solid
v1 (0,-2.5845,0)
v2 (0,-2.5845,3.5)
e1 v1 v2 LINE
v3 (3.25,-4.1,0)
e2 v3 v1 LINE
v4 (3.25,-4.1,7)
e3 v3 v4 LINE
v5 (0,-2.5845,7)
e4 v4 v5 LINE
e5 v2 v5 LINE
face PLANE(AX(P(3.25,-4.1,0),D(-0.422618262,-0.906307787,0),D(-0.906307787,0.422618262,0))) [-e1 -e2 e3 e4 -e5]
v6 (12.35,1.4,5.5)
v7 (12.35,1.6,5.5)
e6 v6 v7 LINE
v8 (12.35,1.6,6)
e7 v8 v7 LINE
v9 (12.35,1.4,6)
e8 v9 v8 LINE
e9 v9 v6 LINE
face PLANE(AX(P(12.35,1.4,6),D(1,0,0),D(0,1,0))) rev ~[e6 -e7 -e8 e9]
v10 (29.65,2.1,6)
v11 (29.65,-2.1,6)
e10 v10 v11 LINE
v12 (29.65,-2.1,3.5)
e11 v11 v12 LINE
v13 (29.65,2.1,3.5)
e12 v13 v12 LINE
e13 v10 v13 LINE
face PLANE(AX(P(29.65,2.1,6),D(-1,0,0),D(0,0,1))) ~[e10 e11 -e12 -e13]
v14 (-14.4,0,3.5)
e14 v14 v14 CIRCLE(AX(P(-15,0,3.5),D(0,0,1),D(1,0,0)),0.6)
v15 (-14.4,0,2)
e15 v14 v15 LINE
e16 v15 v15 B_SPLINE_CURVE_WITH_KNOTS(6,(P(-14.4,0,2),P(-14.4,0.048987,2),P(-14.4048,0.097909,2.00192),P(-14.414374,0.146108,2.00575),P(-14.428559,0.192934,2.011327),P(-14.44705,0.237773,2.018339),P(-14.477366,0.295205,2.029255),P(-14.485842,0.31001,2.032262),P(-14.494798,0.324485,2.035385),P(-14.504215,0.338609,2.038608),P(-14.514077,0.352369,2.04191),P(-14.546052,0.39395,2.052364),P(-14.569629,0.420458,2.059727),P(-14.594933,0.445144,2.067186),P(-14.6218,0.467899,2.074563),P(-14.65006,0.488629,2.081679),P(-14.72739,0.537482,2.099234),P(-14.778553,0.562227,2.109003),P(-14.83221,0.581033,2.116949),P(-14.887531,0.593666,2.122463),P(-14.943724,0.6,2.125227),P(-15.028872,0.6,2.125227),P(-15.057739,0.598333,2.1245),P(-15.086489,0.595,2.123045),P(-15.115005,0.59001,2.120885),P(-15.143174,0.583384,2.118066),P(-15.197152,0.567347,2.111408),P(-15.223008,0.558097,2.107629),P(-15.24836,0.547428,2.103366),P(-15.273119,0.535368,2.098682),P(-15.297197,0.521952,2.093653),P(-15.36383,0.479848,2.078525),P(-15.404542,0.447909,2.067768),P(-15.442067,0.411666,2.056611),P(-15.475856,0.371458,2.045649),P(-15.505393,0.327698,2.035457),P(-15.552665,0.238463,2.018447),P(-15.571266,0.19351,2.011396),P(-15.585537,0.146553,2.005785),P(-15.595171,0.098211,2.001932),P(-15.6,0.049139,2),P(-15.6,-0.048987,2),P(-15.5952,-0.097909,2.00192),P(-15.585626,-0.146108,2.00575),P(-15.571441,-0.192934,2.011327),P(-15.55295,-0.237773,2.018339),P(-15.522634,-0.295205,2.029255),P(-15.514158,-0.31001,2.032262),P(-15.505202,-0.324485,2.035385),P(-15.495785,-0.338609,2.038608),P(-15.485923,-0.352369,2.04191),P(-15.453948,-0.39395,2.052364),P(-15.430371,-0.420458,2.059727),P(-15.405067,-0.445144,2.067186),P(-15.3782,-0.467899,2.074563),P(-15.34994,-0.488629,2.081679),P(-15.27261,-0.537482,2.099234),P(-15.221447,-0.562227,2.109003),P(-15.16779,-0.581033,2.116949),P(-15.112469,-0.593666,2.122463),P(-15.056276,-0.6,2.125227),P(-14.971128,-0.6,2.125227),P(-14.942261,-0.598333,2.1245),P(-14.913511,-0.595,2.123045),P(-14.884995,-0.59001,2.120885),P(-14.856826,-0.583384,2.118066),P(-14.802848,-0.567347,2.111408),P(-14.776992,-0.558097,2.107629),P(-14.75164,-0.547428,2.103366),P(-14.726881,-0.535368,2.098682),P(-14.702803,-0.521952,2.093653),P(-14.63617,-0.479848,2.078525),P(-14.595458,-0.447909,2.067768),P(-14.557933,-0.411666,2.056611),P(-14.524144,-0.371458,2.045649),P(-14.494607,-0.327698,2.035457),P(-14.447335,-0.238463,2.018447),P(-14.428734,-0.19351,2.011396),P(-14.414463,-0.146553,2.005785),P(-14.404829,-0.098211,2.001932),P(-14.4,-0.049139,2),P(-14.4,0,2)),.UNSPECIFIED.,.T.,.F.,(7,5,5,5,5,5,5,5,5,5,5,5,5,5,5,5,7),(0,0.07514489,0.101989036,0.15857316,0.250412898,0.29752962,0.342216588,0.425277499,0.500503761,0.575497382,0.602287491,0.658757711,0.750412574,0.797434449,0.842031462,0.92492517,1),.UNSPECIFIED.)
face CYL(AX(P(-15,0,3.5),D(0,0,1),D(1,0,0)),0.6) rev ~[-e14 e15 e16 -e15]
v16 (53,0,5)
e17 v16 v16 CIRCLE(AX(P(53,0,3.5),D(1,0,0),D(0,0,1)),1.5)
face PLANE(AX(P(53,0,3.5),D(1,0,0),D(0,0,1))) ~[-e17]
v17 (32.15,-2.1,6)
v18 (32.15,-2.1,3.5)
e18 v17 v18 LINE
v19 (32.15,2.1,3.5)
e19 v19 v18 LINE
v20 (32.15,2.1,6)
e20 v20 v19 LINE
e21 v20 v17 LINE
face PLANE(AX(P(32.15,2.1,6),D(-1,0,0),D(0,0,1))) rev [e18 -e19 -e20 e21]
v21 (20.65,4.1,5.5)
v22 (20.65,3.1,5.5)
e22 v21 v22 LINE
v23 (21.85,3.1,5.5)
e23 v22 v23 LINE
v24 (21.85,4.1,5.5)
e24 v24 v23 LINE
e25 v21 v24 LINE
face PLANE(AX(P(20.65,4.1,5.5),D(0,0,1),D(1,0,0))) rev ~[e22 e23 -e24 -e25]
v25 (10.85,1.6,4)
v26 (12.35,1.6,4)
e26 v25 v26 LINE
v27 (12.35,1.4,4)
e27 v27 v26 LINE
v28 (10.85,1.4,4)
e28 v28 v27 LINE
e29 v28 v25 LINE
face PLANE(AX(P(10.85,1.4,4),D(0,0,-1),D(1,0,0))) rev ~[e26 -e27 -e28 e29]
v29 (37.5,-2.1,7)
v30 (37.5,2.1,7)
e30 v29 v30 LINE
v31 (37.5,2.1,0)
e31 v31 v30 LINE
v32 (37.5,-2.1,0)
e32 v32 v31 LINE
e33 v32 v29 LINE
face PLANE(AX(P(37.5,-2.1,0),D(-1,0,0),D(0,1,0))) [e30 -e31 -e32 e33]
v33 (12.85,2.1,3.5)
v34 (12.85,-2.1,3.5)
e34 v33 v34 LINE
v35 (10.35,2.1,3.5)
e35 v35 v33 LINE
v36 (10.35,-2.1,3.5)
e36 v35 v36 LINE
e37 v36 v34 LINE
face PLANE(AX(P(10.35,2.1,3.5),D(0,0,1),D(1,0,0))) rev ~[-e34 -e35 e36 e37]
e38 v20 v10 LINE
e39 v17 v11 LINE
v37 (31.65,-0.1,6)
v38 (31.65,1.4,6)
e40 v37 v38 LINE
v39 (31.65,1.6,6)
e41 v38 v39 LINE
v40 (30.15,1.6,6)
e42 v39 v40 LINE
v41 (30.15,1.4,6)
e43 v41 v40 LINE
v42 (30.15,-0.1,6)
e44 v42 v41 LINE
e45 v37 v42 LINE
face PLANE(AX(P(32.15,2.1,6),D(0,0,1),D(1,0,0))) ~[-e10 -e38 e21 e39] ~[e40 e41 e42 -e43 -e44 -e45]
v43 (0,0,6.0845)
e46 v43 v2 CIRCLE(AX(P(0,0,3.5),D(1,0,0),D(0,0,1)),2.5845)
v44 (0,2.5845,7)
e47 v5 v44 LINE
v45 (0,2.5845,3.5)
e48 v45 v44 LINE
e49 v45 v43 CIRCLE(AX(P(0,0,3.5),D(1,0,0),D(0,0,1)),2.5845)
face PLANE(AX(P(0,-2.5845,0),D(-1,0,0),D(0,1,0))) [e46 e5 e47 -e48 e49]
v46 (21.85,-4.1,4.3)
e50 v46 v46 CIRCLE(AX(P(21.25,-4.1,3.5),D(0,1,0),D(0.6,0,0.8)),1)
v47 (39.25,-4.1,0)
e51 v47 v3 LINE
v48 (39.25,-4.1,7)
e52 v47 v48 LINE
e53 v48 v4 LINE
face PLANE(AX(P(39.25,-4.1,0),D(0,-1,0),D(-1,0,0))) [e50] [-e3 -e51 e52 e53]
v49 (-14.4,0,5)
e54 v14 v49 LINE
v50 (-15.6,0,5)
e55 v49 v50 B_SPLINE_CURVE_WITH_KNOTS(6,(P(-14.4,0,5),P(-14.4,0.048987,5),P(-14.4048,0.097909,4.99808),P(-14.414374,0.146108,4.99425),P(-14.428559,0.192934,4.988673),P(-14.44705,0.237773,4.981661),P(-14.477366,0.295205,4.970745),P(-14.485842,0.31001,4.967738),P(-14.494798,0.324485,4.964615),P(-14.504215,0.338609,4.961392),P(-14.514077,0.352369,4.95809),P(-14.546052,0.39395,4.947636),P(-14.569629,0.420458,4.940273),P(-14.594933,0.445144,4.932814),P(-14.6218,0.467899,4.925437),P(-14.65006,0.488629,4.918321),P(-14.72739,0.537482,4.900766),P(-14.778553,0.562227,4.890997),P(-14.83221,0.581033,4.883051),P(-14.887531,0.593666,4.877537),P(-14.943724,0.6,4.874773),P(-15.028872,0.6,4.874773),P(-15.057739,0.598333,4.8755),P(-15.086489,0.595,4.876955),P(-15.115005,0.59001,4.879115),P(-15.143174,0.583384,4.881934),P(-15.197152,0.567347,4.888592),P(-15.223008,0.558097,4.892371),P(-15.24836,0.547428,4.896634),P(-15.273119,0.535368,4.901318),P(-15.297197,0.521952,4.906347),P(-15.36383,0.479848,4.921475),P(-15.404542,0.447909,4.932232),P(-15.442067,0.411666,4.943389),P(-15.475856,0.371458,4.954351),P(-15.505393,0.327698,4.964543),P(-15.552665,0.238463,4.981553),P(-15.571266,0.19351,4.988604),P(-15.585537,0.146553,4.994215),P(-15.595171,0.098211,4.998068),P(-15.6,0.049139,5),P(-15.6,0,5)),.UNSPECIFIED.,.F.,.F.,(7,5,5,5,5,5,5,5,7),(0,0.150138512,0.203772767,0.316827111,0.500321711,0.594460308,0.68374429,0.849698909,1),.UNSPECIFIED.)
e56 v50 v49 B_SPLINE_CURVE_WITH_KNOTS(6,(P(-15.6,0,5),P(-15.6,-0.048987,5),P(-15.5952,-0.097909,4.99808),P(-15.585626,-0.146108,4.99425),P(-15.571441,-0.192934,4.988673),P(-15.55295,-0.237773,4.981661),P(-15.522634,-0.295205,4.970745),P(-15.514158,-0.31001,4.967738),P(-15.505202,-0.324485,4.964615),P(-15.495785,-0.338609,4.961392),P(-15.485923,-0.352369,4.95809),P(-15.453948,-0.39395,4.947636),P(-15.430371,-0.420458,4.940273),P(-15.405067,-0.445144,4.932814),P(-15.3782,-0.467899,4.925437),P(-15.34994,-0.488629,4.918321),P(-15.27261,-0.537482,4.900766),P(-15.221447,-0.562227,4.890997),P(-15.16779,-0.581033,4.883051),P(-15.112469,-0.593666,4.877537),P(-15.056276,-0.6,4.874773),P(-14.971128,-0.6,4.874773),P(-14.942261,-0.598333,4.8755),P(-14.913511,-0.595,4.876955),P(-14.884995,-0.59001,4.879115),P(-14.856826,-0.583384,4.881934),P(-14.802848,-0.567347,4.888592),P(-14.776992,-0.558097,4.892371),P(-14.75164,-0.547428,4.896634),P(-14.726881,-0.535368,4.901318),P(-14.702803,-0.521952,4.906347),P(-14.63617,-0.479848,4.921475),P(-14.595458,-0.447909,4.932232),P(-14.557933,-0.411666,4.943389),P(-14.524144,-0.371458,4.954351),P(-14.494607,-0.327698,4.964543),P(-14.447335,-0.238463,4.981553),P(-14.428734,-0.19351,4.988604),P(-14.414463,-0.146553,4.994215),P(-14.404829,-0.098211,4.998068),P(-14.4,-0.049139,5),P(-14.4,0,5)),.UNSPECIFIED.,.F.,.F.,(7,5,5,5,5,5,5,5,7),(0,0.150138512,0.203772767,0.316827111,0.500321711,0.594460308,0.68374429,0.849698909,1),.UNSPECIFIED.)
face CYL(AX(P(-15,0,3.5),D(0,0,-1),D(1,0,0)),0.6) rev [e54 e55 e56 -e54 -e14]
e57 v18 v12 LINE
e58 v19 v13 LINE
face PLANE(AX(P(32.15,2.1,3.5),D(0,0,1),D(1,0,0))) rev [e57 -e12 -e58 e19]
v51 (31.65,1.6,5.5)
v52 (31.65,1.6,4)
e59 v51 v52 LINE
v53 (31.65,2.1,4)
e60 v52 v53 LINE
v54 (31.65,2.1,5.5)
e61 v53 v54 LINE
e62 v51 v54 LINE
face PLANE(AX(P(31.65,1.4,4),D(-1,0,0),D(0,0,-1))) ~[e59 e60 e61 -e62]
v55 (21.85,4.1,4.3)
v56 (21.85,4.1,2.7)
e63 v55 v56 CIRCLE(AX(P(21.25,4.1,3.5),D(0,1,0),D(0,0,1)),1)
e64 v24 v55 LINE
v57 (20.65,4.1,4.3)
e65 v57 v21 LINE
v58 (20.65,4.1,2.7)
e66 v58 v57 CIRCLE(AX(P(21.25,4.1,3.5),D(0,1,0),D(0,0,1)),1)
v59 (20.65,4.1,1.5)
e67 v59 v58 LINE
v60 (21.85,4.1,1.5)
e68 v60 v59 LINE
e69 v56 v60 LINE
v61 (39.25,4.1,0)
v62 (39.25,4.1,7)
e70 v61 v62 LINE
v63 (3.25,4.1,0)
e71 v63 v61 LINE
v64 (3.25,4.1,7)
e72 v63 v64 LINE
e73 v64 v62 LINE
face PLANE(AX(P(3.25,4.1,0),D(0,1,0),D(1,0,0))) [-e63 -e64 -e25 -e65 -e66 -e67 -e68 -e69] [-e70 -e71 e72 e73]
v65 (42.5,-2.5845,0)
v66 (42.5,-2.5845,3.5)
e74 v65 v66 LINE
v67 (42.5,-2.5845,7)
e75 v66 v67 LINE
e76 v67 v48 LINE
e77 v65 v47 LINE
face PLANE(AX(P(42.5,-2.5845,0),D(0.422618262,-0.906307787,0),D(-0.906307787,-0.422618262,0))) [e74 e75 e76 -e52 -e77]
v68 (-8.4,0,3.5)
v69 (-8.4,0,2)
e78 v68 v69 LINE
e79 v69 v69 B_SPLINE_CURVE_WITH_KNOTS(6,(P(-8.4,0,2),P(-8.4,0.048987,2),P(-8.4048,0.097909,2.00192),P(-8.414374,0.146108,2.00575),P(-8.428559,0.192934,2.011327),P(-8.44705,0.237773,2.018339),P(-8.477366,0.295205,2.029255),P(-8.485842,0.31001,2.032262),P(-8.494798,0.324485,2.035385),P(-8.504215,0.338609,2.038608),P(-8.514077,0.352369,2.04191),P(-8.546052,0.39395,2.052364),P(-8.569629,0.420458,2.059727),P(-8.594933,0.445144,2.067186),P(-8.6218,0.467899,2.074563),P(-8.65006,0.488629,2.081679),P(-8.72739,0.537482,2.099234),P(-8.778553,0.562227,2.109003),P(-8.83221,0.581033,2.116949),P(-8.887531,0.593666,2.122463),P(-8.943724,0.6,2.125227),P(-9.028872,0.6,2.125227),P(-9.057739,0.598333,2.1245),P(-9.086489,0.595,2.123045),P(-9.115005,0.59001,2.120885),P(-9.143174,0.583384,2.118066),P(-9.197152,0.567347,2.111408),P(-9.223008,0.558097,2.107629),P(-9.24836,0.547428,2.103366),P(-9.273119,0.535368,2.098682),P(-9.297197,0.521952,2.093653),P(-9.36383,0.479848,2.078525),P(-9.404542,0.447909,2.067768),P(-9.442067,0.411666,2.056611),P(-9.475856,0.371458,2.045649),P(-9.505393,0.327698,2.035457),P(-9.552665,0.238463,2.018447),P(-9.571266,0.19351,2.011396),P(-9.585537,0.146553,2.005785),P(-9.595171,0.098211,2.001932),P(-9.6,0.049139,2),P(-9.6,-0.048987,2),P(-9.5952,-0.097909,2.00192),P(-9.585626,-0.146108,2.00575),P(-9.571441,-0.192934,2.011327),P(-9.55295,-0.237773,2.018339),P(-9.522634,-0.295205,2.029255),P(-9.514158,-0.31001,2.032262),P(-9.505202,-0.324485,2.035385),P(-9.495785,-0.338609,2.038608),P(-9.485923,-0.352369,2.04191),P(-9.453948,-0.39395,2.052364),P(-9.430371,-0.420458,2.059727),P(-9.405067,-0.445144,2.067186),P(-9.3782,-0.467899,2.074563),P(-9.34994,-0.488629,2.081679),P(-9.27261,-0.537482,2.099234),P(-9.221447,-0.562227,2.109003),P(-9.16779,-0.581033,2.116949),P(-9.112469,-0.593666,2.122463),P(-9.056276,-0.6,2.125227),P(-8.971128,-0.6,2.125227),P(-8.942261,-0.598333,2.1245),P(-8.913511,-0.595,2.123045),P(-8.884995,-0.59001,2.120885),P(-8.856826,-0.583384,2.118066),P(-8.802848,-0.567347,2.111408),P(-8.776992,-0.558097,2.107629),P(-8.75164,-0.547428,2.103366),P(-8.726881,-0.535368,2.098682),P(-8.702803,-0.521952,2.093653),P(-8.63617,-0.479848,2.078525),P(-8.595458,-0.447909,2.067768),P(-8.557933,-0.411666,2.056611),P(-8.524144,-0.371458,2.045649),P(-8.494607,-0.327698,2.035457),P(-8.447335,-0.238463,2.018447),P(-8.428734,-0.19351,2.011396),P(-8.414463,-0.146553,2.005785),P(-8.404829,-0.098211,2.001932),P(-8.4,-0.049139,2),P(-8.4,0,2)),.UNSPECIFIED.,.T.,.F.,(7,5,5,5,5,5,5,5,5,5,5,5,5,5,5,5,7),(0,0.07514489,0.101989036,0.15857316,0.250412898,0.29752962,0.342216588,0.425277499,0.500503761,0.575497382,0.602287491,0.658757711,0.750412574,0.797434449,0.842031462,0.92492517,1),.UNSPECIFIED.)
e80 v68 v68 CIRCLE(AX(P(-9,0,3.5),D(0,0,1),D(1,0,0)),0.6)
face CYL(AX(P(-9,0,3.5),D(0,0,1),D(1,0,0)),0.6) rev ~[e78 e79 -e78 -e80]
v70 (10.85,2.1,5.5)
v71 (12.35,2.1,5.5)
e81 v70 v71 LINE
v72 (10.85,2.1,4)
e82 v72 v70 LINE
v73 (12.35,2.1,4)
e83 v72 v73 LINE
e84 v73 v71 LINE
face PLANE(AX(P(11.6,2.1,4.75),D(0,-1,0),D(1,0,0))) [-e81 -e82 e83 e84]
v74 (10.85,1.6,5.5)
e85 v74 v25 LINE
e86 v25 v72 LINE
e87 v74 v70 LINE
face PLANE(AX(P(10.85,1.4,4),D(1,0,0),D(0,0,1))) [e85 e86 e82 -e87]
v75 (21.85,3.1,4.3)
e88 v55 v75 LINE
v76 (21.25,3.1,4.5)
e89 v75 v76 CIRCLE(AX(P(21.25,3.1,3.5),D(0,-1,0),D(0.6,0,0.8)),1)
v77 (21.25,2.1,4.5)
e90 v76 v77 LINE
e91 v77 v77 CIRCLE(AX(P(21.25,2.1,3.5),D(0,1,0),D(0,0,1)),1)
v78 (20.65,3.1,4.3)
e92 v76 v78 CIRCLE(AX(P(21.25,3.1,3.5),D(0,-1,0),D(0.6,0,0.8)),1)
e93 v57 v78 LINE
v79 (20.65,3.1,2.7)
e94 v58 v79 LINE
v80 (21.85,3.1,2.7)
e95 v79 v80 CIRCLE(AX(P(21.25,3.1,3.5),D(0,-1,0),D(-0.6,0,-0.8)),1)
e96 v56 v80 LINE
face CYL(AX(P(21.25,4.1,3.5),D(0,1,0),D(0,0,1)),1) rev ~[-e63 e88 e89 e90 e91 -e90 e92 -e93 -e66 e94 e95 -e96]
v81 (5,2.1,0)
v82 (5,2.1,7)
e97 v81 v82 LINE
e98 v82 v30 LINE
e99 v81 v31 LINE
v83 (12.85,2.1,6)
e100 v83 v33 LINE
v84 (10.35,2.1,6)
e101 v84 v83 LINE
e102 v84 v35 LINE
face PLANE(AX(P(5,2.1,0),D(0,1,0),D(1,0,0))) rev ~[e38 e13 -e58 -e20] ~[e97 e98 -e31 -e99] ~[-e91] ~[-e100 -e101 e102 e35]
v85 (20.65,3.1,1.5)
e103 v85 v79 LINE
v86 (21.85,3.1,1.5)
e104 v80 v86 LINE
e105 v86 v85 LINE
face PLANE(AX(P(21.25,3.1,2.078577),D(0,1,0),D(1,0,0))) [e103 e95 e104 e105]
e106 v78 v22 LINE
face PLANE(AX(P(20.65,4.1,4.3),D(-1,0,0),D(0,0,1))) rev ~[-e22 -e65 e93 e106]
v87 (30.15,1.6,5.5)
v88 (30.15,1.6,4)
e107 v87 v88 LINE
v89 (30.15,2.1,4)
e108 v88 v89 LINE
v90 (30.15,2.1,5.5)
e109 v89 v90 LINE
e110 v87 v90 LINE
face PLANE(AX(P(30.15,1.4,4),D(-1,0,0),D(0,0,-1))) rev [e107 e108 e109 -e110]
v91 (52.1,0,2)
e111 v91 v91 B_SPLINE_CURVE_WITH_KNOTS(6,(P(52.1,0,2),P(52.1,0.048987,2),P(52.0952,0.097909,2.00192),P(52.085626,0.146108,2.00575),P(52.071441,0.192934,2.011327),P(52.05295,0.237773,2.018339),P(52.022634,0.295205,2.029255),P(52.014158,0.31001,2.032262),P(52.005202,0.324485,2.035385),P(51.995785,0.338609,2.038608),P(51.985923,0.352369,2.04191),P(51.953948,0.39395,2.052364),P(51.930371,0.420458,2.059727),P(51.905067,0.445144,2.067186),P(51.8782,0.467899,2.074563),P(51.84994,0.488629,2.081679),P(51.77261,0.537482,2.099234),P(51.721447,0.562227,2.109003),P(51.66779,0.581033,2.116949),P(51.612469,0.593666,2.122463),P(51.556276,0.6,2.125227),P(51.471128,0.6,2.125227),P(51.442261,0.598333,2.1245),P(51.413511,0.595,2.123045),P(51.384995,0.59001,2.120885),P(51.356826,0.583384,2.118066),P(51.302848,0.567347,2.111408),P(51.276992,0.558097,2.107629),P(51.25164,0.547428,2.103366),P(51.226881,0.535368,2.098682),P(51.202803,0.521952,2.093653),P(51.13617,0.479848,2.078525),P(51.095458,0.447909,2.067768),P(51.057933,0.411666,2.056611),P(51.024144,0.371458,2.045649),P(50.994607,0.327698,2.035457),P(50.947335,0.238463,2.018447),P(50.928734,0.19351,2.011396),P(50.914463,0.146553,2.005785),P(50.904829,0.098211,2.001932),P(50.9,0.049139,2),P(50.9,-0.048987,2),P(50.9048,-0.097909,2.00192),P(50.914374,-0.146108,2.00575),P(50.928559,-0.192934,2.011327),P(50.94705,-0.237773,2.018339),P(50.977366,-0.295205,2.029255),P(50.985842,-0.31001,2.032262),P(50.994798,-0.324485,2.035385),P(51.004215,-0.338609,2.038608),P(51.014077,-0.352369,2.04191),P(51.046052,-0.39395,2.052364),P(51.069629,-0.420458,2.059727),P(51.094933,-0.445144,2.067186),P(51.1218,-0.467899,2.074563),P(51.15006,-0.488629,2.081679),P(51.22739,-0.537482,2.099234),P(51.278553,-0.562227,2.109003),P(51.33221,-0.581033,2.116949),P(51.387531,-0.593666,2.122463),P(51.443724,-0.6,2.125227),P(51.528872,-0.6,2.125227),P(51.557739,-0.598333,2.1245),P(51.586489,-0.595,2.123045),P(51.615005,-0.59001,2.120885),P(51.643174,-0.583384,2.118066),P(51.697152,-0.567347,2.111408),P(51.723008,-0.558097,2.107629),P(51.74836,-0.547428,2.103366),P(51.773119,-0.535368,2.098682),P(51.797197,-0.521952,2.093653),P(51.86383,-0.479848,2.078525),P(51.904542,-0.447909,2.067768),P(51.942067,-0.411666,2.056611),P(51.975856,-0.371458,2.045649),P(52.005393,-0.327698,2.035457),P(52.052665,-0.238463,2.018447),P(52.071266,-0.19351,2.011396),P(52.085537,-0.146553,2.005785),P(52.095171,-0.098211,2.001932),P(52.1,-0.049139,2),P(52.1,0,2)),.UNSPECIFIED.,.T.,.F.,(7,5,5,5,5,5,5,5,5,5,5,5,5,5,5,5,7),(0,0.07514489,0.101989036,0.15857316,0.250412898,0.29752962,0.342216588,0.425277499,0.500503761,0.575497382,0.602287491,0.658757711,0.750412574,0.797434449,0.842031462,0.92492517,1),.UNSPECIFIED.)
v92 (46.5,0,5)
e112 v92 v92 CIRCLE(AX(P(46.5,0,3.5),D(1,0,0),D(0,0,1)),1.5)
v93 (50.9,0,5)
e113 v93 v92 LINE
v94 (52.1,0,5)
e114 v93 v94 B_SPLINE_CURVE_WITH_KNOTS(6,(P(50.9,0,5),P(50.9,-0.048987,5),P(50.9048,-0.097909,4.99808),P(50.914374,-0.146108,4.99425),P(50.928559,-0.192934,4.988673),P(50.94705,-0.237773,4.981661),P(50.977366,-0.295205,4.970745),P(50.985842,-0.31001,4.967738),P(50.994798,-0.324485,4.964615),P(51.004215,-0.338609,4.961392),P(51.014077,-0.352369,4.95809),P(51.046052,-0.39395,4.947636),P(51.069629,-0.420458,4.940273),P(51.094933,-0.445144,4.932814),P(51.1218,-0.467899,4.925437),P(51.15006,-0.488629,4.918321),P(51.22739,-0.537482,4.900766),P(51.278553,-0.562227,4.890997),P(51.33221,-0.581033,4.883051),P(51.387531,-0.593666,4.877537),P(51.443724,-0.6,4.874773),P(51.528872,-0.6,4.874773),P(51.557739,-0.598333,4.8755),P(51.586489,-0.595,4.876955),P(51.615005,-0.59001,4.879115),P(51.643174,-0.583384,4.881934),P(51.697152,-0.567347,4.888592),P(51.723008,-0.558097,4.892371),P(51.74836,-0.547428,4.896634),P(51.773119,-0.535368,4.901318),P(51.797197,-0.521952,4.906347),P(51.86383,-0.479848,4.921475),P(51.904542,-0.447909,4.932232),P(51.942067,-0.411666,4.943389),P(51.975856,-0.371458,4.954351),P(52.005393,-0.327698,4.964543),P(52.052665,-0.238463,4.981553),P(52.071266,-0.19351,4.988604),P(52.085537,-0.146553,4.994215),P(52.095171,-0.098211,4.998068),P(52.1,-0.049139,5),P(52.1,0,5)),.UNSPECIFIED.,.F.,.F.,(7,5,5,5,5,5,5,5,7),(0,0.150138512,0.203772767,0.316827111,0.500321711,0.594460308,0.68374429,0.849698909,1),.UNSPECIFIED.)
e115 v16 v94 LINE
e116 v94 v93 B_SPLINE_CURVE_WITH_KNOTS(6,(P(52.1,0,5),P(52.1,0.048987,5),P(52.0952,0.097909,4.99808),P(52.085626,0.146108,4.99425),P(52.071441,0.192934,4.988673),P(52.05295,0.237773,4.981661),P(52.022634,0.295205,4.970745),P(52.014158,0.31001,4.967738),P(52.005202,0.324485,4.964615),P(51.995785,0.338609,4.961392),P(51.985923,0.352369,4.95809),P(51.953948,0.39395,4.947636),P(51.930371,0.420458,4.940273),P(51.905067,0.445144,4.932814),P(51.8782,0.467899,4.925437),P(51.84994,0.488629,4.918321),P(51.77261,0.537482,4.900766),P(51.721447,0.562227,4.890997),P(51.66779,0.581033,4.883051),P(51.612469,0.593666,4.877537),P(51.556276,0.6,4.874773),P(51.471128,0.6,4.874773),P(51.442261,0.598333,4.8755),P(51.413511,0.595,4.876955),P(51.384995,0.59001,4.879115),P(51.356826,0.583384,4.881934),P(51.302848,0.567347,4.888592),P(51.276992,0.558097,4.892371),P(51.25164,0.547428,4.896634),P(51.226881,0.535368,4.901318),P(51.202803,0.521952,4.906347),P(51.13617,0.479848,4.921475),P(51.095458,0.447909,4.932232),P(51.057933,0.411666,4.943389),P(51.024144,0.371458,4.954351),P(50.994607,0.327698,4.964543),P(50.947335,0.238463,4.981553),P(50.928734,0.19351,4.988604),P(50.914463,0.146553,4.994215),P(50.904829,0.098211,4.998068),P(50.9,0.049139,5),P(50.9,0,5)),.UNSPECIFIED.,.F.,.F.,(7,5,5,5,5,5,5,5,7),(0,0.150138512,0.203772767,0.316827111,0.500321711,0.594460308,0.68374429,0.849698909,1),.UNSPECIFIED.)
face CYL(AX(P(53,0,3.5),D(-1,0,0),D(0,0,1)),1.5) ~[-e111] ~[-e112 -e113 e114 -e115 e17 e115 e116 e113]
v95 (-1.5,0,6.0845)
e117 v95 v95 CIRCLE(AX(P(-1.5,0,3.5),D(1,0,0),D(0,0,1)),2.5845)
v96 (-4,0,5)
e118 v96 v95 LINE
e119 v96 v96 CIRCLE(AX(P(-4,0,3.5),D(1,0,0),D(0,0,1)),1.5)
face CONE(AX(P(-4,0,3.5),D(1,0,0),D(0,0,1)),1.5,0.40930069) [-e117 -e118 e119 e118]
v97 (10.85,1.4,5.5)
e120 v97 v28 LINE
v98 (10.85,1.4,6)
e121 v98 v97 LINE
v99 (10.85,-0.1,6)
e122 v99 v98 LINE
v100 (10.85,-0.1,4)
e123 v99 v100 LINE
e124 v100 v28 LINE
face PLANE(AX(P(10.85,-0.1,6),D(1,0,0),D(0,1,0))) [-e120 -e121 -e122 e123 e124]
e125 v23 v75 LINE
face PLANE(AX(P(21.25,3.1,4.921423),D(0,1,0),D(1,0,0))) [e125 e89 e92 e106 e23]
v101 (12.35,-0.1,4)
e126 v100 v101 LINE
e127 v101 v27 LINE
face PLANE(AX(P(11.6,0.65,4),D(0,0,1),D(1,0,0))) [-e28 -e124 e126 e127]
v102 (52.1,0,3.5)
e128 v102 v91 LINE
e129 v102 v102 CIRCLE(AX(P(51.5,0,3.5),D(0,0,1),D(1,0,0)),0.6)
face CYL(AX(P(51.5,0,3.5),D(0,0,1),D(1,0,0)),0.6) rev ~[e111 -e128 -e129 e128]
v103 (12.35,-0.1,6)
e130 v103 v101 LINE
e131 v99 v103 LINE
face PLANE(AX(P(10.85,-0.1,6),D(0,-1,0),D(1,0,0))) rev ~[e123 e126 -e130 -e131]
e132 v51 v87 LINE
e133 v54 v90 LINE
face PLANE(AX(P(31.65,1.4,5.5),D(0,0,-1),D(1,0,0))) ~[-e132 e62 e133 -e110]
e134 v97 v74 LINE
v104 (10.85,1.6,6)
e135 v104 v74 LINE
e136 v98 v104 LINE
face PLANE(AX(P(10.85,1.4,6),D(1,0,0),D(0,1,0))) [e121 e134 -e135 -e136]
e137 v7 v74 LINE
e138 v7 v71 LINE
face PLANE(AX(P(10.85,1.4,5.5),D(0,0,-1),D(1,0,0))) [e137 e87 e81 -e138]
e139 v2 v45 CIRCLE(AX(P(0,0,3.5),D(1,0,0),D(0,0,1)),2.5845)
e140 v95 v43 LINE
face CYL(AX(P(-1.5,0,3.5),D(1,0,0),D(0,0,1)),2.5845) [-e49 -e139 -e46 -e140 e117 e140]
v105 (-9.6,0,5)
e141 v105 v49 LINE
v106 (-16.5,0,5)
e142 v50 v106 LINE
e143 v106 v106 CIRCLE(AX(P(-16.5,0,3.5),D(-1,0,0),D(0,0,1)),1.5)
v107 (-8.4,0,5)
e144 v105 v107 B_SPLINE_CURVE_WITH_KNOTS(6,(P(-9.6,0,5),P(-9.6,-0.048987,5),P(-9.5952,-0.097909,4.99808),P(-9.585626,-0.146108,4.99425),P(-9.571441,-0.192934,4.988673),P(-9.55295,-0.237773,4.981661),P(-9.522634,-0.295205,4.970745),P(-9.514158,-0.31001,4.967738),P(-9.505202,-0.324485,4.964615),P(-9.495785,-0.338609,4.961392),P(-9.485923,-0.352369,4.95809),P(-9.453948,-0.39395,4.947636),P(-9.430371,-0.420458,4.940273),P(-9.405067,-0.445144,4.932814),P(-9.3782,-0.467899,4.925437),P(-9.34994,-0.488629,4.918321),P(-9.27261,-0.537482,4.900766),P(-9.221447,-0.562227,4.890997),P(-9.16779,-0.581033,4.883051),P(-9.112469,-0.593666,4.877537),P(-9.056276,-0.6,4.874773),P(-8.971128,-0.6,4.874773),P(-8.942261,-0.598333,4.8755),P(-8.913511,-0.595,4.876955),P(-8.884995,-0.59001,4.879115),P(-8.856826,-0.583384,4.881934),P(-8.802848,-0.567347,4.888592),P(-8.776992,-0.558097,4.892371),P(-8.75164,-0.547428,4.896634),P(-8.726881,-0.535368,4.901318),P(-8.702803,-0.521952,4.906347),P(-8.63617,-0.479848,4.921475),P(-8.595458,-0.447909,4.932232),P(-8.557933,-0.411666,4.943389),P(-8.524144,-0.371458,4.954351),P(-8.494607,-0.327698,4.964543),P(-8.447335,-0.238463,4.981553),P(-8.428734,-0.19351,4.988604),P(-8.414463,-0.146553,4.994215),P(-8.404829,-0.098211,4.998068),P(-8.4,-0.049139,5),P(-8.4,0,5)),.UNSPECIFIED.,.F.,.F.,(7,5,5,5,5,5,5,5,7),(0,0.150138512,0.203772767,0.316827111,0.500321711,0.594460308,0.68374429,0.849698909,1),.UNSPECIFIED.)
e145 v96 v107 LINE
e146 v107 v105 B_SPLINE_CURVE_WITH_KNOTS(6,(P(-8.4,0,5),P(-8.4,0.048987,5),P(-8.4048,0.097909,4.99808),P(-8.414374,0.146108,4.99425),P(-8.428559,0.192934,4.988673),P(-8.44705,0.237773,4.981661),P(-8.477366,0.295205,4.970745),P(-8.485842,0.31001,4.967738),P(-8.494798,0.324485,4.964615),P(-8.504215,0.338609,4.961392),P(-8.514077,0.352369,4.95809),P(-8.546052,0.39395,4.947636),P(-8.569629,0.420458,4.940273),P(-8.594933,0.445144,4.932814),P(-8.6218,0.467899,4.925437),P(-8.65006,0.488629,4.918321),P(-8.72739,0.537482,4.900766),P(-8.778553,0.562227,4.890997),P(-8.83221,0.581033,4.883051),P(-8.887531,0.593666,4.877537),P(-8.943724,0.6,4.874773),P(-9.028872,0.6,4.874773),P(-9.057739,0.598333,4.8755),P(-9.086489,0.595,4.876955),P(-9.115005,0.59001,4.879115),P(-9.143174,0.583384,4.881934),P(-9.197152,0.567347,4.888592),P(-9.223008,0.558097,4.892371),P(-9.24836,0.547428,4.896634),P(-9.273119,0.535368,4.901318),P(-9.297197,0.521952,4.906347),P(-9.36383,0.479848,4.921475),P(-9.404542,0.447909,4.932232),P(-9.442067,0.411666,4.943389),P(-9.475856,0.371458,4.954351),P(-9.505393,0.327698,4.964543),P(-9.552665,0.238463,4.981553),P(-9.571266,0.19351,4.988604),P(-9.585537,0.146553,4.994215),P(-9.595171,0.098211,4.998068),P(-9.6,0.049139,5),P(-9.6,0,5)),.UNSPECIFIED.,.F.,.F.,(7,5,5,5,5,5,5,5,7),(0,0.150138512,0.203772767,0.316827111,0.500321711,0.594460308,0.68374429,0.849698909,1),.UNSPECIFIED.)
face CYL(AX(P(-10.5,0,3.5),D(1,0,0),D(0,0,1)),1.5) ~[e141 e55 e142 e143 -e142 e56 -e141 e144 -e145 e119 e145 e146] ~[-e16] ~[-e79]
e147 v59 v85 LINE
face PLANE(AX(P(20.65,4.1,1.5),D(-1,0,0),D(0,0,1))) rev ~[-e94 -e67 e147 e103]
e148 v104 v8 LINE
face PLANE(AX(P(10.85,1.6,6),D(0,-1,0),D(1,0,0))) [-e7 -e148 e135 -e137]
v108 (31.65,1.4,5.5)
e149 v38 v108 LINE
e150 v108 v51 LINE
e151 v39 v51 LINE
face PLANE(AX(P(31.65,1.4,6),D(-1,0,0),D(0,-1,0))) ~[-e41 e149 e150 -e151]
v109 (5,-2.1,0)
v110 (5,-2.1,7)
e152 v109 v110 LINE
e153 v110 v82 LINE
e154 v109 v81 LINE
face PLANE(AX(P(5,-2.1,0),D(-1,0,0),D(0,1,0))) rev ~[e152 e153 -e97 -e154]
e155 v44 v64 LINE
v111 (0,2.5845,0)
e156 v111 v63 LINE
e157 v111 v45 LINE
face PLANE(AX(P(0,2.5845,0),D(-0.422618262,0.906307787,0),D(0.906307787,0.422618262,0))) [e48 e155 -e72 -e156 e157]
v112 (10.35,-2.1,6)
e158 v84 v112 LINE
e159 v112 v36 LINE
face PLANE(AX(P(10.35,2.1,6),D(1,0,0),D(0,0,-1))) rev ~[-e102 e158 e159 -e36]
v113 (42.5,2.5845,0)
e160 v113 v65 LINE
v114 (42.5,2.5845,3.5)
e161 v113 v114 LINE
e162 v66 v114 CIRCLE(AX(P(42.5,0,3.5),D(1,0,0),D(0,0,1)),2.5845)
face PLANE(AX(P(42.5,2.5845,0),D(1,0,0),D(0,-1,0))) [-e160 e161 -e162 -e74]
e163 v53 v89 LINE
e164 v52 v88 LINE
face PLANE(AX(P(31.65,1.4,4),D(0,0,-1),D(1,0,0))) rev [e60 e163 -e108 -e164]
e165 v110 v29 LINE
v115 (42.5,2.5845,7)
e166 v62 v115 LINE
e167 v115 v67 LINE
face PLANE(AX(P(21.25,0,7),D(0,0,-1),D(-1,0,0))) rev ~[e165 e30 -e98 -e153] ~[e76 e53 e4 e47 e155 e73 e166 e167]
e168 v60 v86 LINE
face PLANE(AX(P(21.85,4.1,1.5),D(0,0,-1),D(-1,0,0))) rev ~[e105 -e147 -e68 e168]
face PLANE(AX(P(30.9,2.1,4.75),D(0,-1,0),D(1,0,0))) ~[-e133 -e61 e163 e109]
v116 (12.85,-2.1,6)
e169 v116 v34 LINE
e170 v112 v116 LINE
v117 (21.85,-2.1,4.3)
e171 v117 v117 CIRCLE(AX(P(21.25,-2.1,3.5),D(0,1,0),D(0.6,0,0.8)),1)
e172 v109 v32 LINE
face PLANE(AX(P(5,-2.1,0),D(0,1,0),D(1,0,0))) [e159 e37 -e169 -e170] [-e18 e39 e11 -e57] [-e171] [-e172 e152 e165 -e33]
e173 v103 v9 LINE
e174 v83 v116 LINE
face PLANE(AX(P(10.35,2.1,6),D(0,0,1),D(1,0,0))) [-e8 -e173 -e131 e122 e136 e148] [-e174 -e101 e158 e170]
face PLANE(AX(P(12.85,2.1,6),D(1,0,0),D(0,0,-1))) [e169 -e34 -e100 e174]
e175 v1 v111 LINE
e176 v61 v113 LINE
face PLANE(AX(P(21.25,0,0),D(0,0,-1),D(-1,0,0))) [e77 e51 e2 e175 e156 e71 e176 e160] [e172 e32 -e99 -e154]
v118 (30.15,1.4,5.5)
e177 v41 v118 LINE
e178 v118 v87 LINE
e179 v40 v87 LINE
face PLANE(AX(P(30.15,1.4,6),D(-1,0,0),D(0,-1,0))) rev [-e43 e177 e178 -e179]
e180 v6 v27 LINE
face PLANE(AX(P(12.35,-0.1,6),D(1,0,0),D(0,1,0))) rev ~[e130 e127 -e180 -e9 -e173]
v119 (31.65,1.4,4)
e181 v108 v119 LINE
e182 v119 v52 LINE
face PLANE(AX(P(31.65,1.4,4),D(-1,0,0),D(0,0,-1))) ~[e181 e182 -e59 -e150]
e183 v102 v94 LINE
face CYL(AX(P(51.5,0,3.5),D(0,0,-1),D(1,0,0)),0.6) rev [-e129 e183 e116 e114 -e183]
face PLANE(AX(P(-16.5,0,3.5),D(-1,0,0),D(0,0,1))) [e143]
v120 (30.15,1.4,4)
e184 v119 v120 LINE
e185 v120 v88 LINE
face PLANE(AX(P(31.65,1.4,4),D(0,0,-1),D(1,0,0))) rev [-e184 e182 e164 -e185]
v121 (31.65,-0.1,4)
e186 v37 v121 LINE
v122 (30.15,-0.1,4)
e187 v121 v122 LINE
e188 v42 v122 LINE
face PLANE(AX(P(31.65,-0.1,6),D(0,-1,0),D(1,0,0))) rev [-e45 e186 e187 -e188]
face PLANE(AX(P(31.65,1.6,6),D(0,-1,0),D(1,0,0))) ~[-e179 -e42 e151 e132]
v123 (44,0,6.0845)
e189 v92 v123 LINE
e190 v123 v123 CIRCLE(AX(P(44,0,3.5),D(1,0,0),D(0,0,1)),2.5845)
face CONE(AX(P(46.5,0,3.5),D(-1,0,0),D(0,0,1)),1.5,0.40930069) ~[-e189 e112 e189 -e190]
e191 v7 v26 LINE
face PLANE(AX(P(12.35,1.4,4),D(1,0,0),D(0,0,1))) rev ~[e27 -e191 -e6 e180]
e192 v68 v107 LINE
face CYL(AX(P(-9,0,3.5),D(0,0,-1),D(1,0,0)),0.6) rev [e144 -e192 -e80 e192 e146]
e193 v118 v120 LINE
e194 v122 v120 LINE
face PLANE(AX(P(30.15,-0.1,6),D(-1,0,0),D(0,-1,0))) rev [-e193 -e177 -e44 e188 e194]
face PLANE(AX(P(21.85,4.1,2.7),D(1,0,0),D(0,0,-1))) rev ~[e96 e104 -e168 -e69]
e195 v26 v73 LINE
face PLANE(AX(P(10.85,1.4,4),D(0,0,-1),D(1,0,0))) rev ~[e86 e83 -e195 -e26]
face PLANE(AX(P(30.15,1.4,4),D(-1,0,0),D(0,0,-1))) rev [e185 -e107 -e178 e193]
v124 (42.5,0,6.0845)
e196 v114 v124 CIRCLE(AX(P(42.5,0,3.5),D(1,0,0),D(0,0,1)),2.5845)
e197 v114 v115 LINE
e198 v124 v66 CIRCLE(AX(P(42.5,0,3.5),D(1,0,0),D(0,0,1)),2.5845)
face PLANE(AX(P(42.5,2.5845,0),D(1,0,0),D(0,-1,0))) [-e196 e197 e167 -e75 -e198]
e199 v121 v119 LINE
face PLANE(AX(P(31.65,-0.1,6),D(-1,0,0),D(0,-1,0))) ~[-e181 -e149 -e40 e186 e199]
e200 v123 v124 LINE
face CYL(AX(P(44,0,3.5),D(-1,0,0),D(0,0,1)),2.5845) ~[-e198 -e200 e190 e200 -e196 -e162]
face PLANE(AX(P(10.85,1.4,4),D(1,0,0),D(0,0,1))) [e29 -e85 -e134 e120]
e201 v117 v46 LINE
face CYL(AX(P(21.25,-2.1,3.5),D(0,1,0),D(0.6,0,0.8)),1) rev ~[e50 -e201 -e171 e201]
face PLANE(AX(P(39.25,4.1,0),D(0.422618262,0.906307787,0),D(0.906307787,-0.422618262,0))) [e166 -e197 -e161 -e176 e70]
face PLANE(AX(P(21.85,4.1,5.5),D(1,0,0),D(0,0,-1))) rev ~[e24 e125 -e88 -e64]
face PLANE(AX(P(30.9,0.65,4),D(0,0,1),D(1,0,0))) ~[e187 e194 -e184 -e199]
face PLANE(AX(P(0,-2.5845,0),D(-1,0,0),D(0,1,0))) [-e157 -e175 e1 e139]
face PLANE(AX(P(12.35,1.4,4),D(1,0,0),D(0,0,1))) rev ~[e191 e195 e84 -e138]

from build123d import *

# Parameters (mm, degrees)
SKETCH1_W                   = 32.5
SKETCH1_H                   = 4.2
BASEFORM_DEPTH              = 7
SKETCH2_R                   = 1
HUMERUSAXLEHOLE1_DEPTH      = 2
HUMERUSAXLELOCK_DEPTH       = 1
SKETCH6_R                   = 1.5
AXLEEXTENSION_DEPTH         = 6
SKETCH7_R                   = 0.6
SCREWHOLES_DEPTH            = 54.273445543
SCREWHOLES_DEPTH_BACK       = 54.273445543
SKETCH8_W                   = 2.5
SKETCH8_H                   = 2.5
HUMERUSTUBEHOLDERBASE_DEPTH = 4.2
SKETCH13_W                  = 1.5
SKETCH13_H                  = 1.5
TUBECLIPENTRANCE_DEPTH      = 2
SKETCH14_W                  = 1.5
SKETCH14_H                  = 1.5
CABLECLIPLOCKSLOT_DEPTH     = 0.7
SKETCH15_W                  = 1.5
SKETCH15_H                  = 0.2
TUBECLIPLOCKCLEARANCE_DEPTH = 2
SKETCH12_R                  = 1
HUMERUSAXLEHOLE2_DEPTH      = 54.818584249


with BuildPart() as part:
    # Sketch1 → BaseForm (new body)
    with BuildSketch(Plane.XY):
        Polygon((0, -2.584500111), (0, 2.584500111), (3.25, 4.1), (39.25, 4.1), (42.5, 2.584500111), (42.5, -2.584500111), (39.25, -4.1), (3.25, -4.1), align=None)
        with Locations((21.25, 0)):
            Rectangle(SKETCH1_W, SKETCH1_H, mode=Mode.SUBTRACT)
    extrude(amount=BASEFORM_DEPTH)

    # Sketch2 → HumerusAxleHole1 (cut)
    with BuildSketch(Plane(origin=(0, 4.1, 0), x_dir=(1, 0, 0), z_dir=(0, 1, 0))):
        with Locations(Location((21.25, -3.5, 0), (0, 0, 270))):
            Circle(SKETCH2_R)
    extrude(amount=-HUMERUSAXLEHOLE1_DEPTH, mode=Mode.SUBTRACT)

    # Sketch2_4 → HumerusAxleLock (cut)
    with BuildSketch(Plane(origin=(0, 4.1, 0), x_dir=(1, 0, 0), z_dir=(0, 1, 0))):
        with BuildLine():
            ThreePointArc((20.65, -2.7), (21.25, -2.5), (21.85, -2.7))
            Line((21.85, -2.7), (21.85, -1.5))
            Line((21.85, -1.5), (20.65, -1.5))
            Line((20.65, -1.5), (20.65, -2.7))
        make_face()
        with BuildLine():
            Line((21.85, -5.5), (21.85, -4.3))
            ThreePointArc((21.85, -4.3), (21.25, -4.5), (20.65, -4.3))
            Line((20.65, -4.3), (20.65, -5.5))
            Line((20.65, -5.5), (21.85, -5.5))
        make_face()
    extrude(amount=-HUMERUSAXLELOCK_DEPTH, mode=Mode.SUBTRACT)

    # Sketch5 → Axle (revolve)
    with BuildSketch(Plane.XY.offset(3.5), mode=Mode.PRIVATE) as axle_sk:
        Polygon((53, 0), (53, 1.5), (46.5, 1.5), (44, 2.584500111), (42.5, 2.584500111), (42.5, 0), align=None)
    axle = revolve(axle_sk.sketch.rotate(Axis((42.5, 0, 3.5), (1, 0, 0)), 90), axis=Axis((42.5, 0, 3.5), (1, 0, 0)))

    # Axle2: Axle across plane
    add(axle.mirror(Plane.ZY.offset(-21.25)))

    # Sketch6 → AxleExtension (add)
    with BuildSketch(Plane.ZY.offset(10.5)):
        with Locations((3.5, 0)):
            Circle(SKETCH6_R)
    extrude(amount=AXLEEXTENSION_DEPTH)

    # Sketch7 → ScrewHoles (cut, two sides)
    with BuildSketch(Plane.XY.offset(3.5)) as screwholes_sk:
        with Locations((-9, 0)):
            Circle(SKETCH7_R)
        with Locations((-15, 0)):
            Circle(SKETCH7_R)
        with Locations((51.5, 0)):
            Circle(SKETCH7_R)
    extrude(amount=SCREWHOLES_DEPTH, mode=Mode.SUBTRACT)
    extrude(screwholes_sk.sketch, amount=-SCREWHOLES_DEPTH_BACK, mode=Mode.SUBTRACT)

    # Sketch8 → HumerusTubeHolderBase (add)
    with BuildSketch(Plane(origin=(0, 2.1, 0), x_dir=(1, 0, 0), z_dir=(0, 1, 0))):
        with Locations((11.6, -4.75)):
            Rectangle(SKETCH8_W, SKETCH8_H)
    humerustubeholderbase = extrude(amount=-HUMERUSTUBEHOLDERBASE_DEPTH)

    # Sketch13 → TubeClipEntrance (cut)
    with BuildSketch(Plane.XY.offset(6)):
        with Locations((11.6, 0.65)):
            Rectangle(SKETCH13_W, SKETCH13_H)
    tubeclipentrance = extrude(amount=-TUBECLIPENTRANCE_DEPTH, mode=Mode.SUBTRACT)

    # Sketch14 → CableClipLockSlot (cut)
    with BuildSketch(Plane.XZ.offset(-1.4)):
        with Locations((11.6, 4.75)):
            Rectangle(SKETCH14_W, SKETCH14_H)
    cablecliplockslot = extrude(amount=-CABLECLIPLOCKSLOT_DEPTH, mode=Mode.SUBTRACT)

    # Sketch15 → TubeClipLockClearance (cut)
    with BuildSketch(Plane.XY.offset(6)):
        with Locations((11.6, 1.5)):
            Rectangle(SKETCH15_W, SKETCH15_H)
    tubecliplockclearance = extrude(amount=-TUBECLIPLOCKCLEARANCE_DEPTH, mode=Mode.SUBTRACT)

    # Sketch12 → HumerusAxleHole2 (cut, through all)
    with BuildSketch(Plane(origin=(0, -2.1, 0), x_dir=(1, 0, 0), z_dir=(0, 1, 0))):
        with Locations(Location((21.25, -3.5, 0), (0, 0, 306.869897646))):
            Circle(SKETCH12_R)
    extrude(amount=-HUMERUSAXLEHOLE2_DEPTH, mode=Mode.SUBTRACT)

    # TubeClipSlot2: HumerusTubeHolderBase, TubeClipEntrance, CableClipLockSlot, TubeClipLockClearance across plane
    add(humerustubeholderbase.mirror(Plane(origin=(21.25, 0, 0), x_dir=(0, 0, 1), z_dir=(1, 0, 0))))
    add(tubeclipentrance.mirror(Plane(origin=(21.25, 0, 0), x_dir=(0, 0, 1), z_dir=(1, 0, 0))), mode=Mode.SUBTRACT)
    add(cablecliplockslot.mirror(Plane(origin=(21.25, 0, 0), x_dir=(0, 0, 1), z_dir=(1, 0, 0))), mode=Mode.SUBTRACT)
    add(tubecliplockclearance.mirror(Plane(origin=(21.25, 0, 0), x_dir=(0, 0, 1), z_dir=(1, 0, 0))), mode=Mode.SUBTRACT)


solid = part.part
